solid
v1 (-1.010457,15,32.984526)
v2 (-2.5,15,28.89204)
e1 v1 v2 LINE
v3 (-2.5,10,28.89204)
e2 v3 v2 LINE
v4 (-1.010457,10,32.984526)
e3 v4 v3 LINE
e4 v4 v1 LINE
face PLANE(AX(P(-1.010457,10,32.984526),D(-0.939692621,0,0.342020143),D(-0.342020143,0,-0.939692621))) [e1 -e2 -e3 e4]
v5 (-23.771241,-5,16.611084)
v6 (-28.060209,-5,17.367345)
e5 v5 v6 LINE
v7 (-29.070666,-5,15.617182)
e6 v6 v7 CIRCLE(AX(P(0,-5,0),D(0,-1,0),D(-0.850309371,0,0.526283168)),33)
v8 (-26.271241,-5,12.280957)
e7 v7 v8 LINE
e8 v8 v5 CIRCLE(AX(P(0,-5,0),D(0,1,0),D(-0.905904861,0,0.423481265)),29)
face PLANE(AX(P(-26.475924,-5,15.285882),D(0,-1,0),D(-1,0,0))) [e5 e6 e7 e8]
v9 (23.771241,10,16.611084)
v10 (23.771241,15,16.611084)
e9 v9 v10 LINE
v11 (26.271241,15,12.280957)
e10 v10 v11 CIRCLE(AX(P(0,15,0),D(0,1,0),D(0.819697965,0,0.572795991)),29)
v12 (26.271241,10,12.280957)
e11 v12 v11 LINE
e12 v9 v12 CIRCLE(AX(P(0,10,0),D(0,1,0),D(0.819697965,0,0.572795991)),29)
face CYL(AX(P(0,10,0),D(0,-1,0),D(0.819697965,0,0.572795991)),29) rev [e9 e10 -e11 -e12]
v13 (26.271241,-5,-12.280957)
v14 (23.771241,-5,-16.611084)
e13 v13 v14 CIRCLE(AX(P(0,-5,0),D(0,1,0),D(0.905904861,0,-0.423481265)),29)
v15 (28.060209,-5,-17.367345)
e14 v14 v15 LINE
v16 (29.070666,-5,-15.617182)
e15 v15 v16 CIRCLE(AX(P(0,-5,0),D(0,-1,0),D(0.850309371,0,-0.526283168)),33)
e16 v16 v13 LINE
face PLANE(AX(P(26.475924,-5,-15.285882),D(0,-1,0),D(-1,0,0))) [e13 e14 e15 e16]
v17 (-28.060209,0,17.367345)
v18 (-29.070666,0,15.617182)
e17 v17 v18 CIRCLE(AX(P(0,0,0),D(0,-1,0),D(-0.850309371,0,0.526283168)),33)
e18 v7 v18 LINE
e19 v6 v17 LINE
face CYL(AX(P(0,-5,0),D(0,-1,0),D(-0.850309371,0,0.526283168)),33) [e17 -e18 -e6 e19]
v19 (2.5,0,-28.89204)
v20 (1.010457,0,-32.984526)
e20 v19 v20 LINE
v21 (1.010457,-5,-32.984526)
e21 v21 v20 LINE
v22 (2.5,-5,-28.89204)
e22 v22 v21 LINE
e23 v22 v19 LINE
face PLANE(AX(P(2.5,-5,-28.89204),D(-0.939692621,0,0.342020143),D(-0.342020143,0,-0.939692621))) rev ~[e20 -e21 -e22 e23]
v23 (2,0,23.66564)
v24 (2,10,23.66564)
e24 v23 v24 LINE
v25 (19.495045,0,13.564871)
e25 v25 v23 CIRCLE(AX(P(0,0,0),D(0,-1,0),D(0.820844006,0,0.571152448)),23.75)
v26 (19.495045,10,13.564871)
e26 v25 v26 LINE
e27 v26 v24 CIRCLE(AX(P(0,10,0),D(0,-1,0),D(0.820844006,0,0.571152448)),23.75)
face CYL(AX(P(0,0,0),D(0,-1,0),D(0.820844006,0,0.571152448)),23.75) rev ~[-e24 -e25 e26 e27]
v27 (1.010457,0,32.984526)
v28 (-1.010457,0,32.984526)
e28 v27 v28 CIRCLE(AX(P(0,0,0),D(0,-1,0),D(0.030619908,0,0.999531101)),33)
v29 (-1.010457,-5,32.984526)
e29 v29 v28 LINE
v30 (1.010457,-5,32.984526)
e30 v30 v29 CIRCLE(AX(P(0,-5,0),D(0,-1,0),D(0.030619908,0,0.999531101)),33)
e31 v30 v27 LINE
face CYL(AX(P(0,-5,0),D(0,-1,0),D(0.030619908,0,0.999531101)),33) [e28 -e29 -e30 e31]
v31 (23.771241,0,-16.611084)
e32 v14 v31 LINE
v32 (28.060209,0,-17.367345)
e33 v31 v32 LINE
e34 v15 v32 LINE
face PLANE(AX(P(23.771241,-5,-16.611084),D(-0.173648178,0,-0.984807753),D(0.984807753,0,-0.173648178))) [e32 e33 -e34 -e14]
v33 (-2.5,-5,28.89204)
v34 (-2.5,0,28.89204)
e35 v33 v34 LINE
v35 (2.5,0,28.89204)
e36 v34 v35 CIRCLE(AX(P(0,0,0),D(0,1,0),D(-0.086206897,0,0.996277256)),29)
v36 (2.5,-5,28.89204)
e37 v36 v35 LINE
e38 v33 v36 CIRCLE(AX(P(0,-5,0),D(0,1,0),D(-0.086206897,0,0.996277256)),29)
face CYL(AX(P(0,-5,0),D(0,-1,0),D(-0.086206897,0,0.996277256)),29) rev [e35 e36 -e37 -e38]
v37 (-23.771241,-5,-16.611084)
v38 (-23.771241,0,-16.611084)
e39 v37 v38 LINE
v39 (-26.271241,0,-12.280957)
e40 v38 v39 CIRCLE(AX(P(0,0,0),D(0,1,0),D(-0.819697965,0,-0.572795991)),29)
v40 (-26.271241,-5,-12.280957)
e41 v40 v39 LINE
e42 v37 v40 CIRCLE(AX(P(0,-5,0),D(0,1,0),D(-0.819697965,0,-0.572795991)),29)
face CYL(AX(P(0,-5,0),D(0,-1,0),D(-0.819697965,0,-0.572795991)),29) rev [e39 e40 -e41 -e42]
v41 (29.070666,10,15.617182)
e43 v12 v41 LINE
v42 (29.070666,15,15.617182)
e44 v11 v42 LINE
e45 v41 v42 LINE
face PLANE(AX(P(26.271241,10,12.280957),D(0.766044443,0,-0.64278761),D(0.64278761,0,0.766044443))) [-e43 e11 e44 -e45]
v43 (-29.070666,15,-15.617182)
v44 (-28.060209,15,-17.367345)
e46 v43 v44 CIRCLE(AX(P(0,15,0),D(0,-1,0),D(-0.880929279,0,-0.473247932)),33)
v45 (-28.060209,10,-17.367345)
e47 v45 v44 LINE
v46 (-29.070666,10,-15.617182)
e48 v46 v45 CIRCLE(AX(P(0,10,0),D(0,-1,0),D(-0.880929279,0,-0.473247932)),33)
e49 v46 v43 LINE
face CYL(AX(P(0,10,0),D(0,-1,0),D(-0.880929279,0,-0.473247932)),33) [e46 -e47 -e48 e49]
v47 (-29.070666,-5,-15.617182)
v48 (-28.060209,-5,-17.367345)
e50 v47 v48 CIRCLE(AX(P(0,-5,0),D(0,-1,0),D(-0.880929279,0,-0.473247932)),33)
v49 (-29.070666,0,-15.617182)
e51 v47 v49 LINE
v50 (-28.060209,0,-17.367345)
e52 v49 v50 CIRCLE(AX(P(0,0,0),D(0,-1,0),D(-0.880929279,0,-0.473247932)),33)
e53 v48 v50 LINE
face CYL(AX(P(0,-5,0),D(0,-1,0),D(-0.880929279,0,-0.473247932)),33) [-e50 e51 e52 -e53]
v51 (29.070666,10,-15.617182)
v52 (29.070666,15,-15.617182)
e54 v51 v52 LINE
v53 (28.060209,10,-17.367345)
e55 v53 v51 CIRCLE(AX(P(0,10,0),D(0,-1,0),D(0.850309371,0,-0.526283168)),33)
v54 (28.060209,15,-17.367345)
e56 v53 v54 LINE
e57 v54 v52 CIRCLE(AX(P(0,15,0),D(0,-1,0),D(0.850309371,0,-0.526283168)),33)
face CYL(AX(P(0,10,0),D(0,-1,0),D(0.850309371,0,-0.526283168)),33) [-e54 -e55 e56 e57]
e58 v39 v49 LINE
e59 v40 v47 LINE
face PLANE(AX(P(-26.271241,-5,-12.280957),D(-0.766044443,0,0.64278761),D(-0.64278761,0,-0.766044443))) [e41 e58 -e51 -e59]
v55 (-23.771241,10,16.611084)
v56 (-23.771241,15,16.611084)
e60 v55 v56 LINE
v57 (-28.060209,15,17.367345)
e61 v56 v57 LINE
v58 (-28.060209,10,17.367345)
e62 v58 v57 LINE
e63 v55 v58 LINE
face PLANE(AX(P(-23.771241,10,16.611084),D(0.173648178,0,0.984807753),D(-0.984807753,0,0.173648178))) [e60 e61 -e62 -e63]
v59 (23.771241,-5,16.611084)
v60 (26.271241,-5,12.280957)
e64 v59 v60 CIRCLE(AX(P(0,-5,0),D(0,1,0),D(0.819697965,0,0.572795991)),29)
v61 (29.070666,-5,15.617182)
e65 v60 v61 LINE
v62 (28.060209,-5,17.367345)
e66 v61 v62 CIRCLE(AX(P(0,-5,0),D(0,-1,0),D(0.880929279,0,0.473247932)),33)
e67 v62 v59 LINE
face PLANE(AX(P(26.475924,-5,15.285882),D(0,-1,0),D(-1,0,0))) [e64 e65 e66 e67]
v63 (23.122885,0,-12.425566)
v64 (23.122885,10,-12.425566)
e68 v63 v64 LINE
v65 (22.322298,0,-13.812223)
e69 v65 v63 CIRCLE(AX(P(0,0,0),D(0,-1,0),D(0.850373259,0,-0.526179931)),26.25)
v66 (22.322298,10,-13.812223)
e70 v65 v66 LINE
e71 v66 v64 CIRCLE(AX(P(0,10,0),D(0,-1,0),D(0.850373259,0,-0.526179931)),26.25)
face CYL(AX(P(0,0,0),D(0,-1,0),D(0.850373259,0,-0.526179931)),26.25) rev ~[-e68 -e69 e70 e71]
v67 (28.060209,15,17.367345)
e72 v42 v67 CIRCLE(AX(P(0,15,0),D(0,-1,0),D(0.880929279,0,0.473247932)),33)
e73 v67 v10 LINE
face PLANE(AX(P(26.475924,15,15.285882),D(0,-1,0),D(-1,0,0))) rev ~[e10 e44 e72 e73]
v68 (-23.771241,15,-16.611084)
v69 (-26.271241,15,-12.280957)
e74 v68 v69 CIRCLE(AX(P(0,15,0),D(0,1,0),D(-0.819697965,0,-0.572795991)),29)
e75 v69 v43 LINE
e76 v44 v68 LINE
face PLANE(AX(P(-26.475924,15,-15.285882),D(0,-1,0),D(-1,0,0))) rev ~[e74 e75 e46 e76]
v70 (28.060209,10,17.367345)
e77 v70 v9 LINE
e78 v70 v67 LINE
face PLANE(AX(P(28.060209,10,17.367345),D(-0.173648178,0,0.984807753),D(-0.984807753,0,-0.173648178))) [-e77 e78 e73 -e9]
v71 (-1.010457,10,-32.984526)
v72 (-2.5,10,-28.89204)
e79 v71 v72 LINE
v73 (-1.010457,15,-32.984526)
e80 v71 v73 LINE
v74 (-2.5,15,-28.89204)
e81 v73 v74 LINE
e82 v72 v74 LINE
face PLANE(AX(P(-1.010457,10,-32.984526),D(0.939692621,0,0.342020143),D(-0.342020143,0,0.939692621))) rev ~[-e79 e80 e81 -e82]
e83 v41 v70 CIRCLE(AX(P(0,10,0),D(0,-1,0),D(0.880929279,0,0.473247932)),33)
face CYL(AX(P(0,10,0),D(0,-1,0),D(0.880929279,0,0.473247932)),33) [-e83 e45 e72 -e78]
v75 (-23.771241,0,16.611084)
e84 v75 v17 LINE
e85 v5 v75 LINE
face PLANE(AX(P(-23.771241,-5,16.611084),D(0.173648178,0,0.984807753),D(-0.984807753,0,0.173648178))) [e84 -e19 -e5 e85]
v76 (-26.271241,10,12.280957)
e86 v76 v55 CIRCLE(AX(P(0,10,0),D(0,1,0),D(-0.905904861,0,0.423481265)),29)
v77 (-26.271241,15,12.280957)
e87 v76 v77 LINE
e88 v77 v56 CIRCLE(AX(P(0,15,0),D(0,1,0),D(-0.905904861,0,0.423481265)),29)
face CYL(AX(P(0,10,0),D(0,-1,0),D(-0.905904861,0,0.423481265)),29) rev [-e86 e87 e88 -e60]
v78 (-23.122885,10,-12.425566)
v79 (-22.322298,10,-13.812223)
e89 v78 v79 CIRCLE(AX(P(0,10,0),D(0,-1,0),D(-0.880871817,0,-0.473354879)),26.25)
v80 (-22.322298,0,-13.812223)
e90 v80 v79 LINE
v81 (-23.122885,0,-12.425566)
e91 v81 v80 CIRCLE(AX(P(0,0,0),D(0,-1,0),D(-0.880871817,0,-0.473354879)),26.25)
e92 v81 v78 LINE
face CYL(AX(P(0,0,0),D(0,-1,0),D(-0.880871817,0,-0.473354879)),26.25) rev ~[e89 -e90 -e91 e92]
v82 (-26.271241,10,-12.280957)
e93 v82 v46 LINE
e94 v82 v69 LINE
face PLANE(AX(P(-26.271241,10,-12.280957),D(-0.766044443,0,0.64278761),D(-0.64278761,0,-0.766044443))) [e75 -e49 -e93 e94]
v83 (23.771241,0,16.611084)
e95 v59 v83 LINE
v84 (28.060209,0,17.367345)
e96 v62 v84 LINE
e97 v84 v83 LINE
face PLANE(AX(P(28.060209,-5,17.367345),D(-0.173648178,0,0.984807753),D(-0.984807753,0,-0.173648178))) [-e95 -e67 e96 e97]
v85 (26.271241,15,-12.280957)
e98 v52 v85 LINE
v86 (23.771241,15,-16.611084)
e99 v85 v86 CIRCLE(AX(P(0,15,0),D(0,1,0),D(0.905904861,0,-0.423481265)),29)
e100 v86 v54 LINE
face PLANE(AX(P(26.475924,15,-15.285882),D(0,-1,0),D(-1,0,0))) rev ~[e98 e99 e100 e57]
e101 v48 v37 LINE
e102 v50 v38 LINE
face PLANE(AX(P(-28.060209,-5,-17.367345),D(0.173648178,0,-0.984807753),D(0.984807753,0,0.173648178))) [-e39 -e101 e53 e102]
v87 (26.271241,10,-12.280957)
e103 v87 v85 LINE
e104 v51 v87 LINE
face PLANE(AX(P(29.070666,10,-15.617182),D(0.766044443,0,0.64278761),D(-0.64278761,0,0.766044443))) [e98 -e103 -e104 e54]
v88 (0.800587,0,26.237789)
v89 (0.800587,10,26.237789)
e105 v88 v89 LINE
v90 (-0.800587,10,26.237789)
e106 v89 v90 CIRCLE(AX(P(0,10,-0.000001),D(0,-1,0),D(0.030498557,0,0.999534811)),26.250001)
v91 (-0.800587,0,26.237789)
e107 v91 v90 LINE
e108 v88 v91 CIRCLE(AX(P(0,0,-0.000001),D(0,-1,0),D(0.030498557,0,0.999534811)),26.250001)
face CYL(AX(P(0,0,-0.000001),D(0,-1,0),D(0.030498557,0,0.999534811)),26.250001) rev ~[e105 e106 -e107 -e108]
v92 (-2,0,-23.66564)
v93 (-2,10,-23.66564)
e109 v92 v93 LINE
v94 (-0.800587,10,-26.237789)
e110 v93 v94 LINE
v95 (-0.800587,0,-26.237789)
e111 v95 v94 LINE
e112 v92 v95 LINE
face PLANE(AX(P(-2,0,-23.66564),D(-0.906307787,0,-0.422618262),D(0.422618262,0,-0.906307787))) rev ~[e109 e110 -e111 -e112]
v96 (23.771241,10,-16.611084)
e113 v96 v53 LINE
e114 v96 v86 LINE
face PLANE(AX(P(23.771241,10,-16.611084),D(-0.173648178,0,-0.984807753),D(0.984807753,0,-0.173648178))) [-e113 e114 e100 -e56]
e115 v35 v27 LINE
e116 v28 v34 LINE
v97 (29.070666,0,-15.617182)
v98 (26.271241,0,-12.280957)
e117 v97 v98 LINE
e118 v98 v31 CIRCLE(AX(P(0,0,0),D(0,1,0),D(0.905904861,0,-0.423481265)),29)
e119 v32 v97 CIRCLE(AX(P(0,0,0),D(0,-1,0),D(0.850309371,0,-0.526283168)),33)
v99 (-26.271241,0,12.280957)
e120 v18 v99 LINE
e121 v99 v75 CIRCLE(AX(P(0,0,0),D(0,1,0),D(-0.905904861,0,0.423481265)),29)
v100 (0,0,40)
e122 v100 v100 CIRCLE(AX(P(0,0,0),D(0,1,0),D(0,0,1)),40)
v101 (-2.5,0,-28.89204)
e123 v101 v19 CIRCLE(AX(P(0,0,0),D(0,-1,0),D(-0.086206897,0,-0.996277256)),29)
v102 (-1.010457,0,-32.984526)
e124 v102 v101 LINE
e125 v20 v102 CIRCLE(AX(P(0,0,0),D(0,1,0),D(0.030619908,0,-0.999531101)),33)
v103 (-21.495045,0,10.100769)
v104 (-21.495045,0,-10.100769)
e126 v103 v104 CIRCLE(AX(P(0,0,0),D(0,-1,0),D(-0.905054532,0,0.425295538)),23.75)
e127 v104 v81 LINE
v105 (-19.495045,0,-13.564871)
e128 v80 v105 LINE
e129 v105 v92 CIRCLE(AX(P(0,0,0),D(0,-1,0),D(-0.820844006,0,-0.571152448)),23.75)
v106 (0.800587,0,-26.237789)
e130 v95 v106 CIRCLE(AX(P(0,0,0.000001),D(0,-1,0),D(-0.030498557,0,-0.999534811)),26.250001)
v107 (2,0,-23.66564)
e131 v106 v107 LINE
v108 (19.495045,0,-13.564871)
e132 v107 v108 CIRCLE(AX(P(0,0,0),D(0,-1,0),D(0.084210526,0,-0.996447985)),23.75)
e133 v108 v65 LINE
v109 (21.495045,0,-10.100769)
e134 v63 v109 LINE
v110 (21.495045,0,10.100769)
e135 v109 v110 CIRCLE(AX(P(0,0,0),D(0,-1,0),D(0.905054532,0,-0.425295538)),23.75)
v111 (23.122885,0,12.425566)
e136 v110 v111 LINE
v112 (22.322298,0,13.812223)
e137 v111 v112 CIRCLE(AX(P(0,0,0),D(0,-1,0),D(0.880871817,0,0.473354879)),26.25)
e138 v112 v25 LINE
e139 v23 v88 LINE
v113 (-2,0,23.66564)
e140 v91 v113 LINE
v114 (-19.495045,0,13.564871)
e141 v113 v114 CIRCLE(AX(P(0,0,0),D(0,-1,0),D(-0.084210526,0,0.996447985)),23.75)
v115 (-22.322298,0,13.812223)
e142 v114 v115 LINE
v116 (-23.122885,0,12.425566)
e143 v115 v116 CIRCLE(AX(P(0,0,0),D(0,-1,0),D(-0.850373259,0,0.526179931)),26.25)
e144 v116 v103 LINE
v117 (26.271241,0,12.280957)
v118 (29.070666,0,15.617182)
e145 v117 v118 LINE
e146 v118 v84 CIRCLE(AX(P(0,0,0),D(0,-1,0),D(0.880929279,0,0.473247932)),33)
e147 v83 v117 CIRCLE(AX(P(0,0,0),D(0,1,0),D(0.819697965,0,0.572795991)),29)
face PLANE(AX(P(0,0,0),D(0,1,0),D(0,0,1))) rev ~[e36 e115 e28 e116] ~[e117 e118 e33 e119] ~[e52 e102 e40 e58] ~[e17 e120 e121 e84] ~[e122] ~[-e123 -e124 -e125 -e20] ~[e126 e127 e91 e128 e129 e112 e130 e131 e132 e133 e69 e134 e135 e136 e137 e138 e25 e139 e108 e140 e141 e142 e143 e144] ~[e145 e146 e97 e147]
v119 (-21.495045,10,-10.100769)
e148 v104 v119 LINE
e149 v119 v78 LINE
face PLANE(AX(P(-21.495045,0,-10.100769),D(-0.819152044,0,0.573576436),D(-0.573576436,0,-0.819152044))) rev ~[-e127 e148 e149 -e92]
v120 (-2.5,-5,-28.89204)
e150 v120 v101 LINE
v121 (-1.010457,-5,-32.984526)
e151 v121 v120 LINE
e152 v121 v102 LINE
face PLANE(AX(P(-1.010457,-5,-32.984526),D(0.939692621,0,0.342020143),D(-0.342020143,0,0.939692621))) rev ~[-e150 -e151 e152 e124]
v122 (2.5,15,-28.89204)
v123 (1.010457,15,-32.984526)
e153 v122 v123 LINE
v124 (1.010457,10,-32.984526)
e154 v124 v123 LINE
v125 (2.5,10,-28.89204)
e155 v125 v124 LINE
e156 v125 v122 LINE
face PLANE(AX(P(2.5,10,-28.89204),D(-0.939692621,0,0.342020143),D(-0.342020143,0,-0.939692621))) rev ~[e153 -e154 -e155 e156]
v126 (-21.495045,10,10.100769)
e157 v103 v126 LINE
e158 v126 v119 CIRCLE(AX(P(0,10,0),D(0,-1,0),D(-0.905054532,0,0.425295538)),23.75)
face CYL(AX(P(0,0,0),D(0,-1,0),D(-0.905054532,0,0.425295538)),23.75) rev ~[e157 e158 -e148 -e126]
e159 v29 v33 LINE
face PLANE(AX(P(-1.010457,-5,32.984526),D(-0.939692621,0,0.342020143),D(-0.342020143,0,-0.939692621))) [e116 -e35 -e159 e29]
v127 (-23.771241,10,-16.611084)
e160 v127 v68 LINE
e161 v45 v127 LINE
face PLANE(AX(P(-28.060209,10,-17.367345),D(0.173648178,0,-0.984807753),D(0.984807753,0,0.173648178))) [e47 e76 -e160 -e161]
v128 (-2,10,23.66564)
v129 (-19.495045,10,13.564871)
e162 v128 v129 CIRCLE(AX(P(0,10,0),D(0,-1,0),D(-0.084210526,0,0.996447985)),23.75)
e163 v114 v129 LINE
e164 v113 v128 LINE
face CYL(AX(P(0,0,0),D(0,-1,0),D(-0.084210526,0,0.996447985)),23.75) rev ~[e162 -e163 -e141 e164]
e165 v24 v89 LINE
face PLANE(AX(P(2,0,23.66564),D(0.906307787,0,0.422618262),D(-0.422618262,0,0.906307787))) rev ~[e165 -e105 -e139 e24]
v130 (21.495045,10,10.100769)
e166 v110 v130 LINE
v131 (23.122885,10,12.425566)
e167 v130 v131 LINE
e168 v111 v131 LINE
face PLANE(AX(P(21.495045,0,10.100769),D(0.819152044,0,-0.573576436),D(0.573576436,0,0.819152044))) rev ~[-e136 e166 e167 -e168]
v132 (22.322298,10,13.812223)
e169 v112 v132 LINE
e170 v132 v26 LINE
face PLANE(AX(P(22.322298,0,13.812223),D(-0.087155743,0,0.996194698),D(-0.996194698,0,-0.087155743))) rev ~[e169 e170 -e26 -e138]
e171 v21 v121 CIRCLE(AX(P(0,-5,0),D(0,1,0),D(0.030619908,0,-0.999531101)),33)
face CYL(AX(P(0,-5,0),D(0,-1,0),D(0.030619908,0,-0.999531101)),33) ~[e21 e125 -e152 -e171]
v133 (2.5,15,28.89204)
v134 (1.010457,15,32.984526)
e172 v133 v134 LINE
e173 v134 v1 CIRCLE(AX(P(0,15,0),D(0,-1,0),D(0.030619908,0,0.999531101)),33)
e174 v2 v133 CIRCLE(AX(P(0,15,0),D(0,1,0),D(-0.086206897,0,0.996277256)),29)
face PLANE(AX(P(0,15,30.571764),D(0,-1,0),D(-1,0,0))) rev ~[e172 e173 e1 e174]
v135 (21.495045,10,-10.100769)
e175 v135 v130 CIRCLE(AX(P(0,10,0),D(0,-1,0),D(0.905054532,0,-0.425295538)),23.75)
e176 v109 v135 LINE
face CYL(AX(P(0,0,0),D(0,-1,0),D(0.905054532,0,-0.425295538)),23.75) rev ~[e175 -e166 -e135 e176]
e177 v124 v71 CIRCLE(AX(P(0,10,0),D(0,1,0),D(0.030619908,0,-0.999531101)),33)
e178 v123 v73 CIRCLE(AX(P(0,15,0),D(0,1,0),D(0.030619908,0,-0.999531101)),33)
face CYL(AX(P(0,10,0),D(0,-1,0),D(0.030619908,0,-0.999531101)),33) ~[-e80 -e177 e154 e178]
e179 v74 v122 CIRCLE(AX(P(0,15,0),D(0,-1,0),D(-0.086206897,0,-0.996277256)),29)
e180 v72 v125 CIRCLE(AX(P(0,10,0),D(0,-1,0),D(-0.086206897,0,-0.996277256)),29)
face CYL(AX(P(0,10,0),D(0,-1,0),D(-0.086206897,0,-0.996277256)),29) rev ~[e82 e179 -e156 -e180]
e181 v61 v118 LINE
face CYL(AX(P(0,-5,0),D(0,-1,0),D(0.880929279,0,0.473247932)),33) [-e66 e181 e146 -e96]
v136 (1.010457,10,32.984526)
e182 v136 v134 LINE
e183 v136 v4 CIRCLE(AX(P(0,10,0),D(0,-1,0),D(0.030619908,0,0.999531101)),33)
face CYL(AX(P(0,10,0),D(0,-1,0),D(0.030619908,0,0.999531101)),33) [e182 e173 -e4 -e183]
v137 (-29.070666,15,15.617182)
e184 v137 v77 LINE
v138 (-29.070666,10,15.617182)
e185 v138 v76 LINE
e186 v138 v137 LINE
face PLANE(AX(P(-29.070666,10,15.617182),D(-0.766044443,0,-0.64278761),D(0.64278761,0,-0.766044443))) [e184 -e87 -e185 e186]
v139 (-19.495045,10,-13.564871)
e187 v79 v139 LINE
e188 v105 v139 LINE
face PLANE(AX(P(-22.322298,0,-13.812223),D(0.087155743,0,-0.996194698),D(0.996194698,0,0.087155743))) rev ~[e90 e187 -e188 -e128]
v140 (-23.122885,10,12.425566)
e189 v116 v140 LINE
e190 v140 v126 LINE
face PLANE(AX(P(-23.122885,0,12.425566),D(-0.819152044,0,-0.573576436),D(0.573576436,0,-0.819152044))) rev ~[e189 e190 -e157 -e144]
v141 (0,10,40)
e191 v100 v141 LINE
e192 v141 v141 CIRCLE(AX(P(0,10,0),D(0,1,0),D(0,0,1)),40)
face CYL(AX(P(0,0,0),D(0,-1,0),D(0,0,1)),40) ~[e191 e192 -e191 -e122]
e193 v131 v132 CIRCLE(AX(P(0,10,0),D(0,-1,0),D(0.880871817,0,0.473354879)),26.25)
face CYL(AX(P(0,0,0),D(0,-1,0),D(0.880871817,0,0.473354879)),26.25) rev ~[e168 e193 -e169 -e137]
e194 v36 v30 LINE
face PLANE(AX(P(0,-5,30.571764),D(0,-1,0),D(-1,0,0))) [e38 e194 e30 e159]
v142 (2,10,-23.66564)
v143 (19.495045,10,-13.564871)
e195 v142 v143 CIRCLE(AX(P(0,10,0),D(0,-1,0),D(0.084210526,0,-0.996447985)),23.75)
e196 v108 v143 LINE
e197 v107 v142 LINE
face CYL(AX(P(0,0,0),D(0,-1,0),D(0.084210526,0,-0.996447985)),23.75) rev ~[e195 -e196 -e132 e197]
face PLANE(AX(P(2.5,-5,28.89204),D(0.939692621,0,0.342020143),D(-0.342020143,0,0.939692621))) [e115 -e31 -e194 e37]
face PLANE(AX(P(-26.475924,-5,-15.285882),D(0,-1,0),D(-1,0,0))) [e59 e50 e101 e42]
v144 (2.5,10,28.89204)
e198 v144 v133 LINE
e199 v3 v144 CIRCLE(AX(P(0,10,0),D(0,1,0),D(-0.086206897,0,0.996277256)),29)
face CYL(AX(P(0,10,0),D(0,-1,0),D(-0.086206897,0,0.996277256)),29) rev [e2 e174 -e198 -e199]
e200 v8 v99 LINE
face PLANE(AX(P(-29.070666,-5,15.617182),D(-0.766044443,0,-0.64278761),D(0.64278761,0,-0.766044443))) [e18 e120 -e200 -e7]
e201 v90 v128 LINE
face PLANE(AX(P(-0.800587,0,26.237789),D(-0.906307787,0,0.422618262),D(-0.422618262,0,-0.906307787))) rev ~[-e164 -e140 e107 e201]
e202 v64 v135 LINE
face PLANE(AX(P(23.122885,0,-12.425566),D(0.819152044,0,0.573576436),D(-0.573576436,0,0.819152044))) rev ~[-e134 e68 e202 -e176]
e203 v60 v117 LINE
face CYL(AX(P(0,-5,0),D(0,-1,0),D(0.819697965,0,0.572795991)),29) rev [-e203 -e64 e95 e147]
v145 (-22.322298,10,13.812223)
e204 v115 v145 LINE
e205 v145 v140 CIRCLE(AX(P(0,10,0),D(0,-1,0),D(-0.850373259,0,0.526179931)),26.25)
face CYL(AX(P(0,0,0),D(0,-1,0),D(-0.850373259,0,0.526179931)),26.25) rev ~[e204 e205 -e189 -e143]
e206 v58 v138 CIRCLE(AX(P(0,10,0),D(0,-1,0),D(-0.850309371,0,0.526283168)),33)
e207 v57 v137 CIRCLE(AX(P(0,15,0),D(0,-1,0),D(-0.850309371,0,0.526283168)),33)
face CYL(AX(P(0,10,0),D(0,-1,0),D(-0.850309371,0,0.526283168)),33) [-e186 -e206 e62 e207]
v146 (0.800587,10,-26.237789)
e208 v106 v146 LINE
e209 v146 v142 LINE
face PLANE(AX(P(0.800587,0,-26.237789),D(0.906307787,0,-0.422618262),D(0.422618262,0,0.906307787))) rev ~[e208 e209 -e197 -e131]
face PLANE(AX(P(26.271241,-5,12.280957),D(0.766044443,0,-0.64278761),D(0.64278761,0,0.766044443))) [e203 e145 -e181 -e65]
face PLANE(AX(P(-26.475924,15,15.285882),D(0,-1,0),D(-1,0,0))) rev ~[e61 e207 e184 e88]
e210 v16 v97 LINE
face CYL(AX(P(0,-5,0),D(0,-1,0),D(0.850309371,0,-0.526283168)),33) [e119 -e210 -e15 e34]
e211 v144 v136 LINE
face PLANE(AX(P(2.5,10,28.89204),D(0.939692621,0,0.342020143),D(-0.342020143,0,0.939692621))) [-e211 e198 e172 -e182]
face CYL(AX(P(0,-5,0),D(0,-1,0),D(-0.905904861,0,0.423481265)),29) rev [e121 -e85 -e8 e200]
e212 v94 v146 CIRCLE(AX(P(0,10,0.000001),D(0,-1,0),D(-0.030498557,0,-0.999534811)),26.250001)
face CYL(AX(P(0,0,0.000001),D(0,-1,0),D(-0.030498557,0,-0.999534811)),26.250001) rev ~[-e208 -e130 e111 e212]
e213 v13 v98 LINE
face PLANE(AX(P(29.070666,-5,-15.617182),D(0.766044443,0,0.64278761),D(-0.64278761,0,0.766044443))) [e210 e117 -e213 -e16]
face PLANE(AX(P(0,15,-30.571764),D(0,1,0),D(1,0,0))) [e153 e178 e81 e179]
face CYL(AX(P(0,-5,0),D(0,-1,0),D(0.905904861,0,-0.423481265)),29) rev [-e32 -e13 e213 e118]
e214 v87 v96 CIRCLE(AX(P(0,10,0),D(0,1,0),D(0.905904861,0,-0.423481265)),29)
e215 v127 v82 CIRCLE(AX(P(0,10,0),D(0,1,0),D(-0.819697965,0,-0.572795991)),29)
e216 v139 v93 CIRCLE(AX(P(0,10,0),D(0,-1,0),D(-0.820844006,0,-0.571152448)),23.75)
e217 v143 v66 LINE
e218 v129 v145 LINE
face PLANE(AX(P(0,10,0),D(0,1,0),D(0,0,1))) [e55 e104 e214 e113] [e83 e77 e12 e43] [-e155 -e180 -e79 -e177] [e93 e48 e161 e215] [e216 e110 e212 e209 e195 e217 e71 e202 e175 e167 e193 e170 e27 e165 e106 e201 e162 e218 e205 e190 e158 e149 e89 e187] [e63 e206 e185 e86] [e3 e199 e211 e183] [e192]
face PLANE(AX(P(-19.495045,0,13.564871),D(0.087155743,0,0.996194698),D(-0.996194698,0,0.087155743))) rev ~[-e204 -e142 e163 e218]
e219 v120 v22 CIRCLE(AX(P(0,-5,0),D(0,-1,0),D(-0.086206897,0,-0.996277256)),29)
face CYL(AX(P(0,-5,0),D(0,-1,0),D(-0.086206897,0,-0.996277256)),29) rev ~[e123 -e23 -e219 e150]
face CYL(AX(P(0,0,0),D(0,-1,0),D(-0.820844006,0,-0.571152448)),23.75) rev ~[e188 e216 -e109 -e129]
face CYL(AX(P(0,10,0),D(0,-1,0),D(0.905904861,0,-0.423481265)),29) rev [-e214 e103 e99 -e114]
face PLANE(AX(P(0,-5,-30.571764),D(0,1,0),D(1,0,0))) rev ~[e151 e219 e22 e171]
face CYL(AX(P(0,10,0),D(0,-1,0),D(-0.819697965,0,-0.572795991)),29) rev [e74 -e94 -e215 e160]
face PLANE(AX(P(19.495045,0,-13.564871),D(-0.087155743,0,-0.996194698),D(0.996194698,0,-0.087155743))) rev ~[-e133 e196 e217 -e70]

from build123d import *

# Parameters (mm, degrees)
SKETCH1_R           = 40
BOSS_EXTRUDE1_DEPTH = 10
BOSS_EXTRUDE6_DEPTH = 5
BOSS_EXTRUDE7_START = -15
BOSS_EXTRUDE7_DEPTH = 5


with BuildPart() as part:
    # Sketch1 → Boss-Extrude1 (new body)
    with BuildSketch(Plane(origin=(0, 0, 0), x_dir=(1, 0, 0), z_dir=(0, 1, 0))):
        with Locations(Location((0, 0, 0), (0, 0, 270))):
            Circle(SKETCH1_R)
        with BuildLine():
            Line((-2, 23.665639649), (-0.800587161, 26.237788783))
            ThreePointArc((-0.800587161, 26.237788783), (0, 26.25), (0.800587161, 26.237788783))
            Line((0.800587161, 26.237788783), (2, 23.665639649))
            ThreePointArc((2, 23.665639649), (11.875, 20.56810334), (19.495045133, 13.564870632))
            Line((19.495045133, 13.564870632), (22.322298044, 13.812223211))
            ThreePointArc((22.322298044, 13.812223211), (22.733166849, 13.125), (23.122885205, 12.425565572))
            Line((23.122885205, 12.425565572), (21.495045133, 10.100769017))
            ThreePointArc((21.495045133, 10.100769017), (23.75, 0), (21.495045133, -10.100769017))
            Line((21.495045133, -10.100769017), (23.122885205, -12.425565572))
            ThreePointArc((23.122885205, -12.425565572), (22.733166849, -13.125), (22.322298044, -13.812223211))
            Line((22.322298044, -13.812223211), (19.495045133, -13.564870632))
            ThreePointArc((19.495045133, -13.564870632), (11.875, -20.56810334), (2, -23.665639649))
            Line((2, -23.665639649), (0.800587161, -26.237788783))
            ThreePointArc((0.800587161, -26.237788783), (0, -26.25), (-0.800587161, -26.237788783))
            Line((-0.800587161, -26.237788783), (-2, -23.665639649))
            ThreePointArc((-2, -23.665639649), (-11.875, -20.56810334), (-19.495045133, -13.564870632))
            Line((-19.495045133, -13.564870632), (-22.322298044, -13.812223211))
            ThreePointArc((-22.322298044, -13.812223211), (-22.733166849, -13.125), (-23.122885205, -12.425565572))
            Line((-23.122885205, -12.425565572), (-21.495045133, -10.100769017))
            ThreePointArc((-21.495045133, -10.100769017), (-23.75, 0), (-21.495045133, 10.100769017))
            Line((-21.495045133, 10.100769017), (-23.122885205, 12.425565572))
            ThreePointArc((-23.122885205, 12.425565572), (-22.733166849, 13.125), (-22.322298044, 13.812223211))
            Line((-22.322298044, 13.812223211), (-19.495045133, 13.564870632))
            ThreePointArc((-19.495045133, 13.564870632), (-11.875, 20.56810334), (-2, 23.665639649))
        make_face(mode=Mode.SUBTRACT)
    extrude(amount=BOSS_EXTRUDE1_DEPTH)

    # 4,5,6 → Boss-Extrude6 (add)
    with BuildSketch(Plane(origin=(0, 10, 0), x_dir=(1, 0, 0), z_dir=(0, 1, 0))):
        with BuildLine():
            Line((2.5, 28.892040426), (1.010456949, 32.984526323))
            ThreePointArc((1.010456949, 32.984526323), (0, 33), (-1.010456949, 32.984526323))
            Line((-1.010456949, 32.984526323), (-2.5, 28.892040426))
            ThreePointArc((-2.5, 28.892040426), (0, 29), (2.5, 28.892040426))
        make_face()
        with BuildLine():
            Line((23.771240976, 16.611083723), (28.060209253, 17.367344549))
            ThreePointArc((28.060209253, 17.367344549), (28.578838325, 16.5), (29.070666202, 15.617181774))
            Line((29.070666202, 15.617181774), (26.271240976, 12.280956704))
            ThreePointArc((26.271240976, 12.280956704), (25.11473671, 14.5), (23.771240976, 16.611083723))
        make_face()
        with BuildLine():
            Line((26.271240976, -12.280956704), (29.070666202, -15.617181774))
            ThreePointArc((29.070666202, -15.617181774), (28.578838325, -16.5), (28.060209253, -17.367344549))
            Line((28.060209253, -17.367344549), (23.771240976, -16.611083723))
            ThreePointArc((23.771240976, -16.611083723), (25.11473671, -14.5), (26.271240976, -12.280956704))
        make_face()
        with BuildLine():
            Line((2.5, -28.892040426), (1.010456949, -32.984526323))
            ThreePointArc((1.010456949, -32.984526323), (0, -33), (-1.010456949, -32.984526323))
            Line((-1.010456949, -32.984526323), (-2.5, -28.892040426))
            ThreePointArc((-2.5, -28.892040426), (0, -29), (2.5, -28.892040426))
        make_face()
        with BuildLine():
            Line((-23.771240976, -16.611083723), (-28.060209253, -17.367344549))
            ThreePointArc((-28.060209253, -17.367344549), (-28.578838325, -16.5), (-29.070666202, -15.617181774))
            Line((-29.070666202, -15.617181774), (-26.271240976, -12.280956704))
            ThreePointArc((-26.271240976, -12.280956704), (-25.11473671, -14.5), (-23.771240976, -16.611083723))
        make_face()
        with BuildLine():
            Line((-26.271240976, 12.280956704), (-29.070666202, 15.617181774))
            ThreePointArc((-29.070666202, 15.617181774), (-28.578838325, 16.5), (-28.060209253, 17.367344549))
            Line((-28.060209253, 17.367344549), (-23.771240976, 16.611083723))
            ThreePointArc((-23.771240976, 16.611083723), (-25.11473671, 14.5), (-26.271240976, 12.280956704))
        make_face()
    extrude(amount=BOSS_EXTRUDE6_DEPTH)

    # 4,5,6<2> → Boss-Extrude7 (add)
    with BuildSketch(Plane(origin=(0, 10, 0), x_dir=(1, 0, 0), z_dir=(0, 1, 0)).offset(BOSS_EXTRUDE7_START)):
        with BuildLine():
            Line((2.5, 28.892040426), (1.010456949, 32.984526323))
            ThreePointArc((1.010456949, 32.984526323), (0, 33), (-1.010456949, 32.984526323))
            Line((-1.010456949, 32.984526323), (-2.5, 28.892040426))
            ThreePointArc((-2.5, 28.892040426), (0, 29), (2.5, 28.892040426))
        make_face()
        with BuildLine():
            Line((23.771240976, 16.611083723), (28.060209253, 17.367344549))
            ThreePointArc((28.060209253, 17.367344549), (28.578838325, 16.5), (29.070666202, 15.617181774))
            Line((29.070666202, 15.617181774), (26.271240976, 12.280956704))
            ThreePointArc((26.271240976, 12.280956704), (25.11473671, 14.5), (23.771240976, 16.611083723))
        make_face()
        with BuildLine():
            Line((26.271240976, -12.280956704), (29.070666202, -15.617181774))
            ThreePointArc((29.070666202, -15.617181774), (28.578838325, -16.5), (28.060209253, -17.367344549))
            Line((28.060209253, -17.367344549), (23.771240976, -16.611083723))
            ThreePointArc((23.771240976, -16.611083723), (25.11473671, -14.5), (26.271240976, -12.280956704))
        make_face()
        with BuildLine():
            Line((2.5, -28.892040426), (1.010456949, -32.984526323))
            ThreePointArc((1.010456949, -32.984526323), (0, -33), (-1.010456949, -32.984526323))
            Line((-1.010456949, -32.984526323), (-2.5, -28.892040426))
            ThreePointArc((-2.5, -28.892040426), (0, -29), (2.5, -28.892040426))
        make_face()
        with BuildLine():
            Line((-23.771240976, -16.611083723), (-28.060209253, -17.367344549))
            ThreePointArc((-28.060209253, -17.367344549), (-28.578838325, -16.5), (-29.070666202, -15.617181774))
            Line((-29.070666202, -15.617181774), (-26.271240976, -12.280956704))
            ThreePointArc((-26.271240976, -12.280956704), (-25.11473671, -14.5), (-23.771240976, -16.611083723))
        make_face()
        with BuildLine():
            Line((-26.271240976, 12.280956704), (-29.070666202, 15.617181774))
            ThreePointArc((-29.070666202, 15.617181774), (-28.578838325, 16.5), (-28.060209253, 17.367344549))
            Line((-28.060209253, 17.367344549), (-23.771240976, 16.611083723))
            ThreePointArc((-23.771240976, 16.611083723), (-25.11473671, 14.5), (-26.271240976, 12.280956704))
        make_face()
    extrude(amount=BOSS_EXTRUDE7_DEPTH)


solid = part.part
